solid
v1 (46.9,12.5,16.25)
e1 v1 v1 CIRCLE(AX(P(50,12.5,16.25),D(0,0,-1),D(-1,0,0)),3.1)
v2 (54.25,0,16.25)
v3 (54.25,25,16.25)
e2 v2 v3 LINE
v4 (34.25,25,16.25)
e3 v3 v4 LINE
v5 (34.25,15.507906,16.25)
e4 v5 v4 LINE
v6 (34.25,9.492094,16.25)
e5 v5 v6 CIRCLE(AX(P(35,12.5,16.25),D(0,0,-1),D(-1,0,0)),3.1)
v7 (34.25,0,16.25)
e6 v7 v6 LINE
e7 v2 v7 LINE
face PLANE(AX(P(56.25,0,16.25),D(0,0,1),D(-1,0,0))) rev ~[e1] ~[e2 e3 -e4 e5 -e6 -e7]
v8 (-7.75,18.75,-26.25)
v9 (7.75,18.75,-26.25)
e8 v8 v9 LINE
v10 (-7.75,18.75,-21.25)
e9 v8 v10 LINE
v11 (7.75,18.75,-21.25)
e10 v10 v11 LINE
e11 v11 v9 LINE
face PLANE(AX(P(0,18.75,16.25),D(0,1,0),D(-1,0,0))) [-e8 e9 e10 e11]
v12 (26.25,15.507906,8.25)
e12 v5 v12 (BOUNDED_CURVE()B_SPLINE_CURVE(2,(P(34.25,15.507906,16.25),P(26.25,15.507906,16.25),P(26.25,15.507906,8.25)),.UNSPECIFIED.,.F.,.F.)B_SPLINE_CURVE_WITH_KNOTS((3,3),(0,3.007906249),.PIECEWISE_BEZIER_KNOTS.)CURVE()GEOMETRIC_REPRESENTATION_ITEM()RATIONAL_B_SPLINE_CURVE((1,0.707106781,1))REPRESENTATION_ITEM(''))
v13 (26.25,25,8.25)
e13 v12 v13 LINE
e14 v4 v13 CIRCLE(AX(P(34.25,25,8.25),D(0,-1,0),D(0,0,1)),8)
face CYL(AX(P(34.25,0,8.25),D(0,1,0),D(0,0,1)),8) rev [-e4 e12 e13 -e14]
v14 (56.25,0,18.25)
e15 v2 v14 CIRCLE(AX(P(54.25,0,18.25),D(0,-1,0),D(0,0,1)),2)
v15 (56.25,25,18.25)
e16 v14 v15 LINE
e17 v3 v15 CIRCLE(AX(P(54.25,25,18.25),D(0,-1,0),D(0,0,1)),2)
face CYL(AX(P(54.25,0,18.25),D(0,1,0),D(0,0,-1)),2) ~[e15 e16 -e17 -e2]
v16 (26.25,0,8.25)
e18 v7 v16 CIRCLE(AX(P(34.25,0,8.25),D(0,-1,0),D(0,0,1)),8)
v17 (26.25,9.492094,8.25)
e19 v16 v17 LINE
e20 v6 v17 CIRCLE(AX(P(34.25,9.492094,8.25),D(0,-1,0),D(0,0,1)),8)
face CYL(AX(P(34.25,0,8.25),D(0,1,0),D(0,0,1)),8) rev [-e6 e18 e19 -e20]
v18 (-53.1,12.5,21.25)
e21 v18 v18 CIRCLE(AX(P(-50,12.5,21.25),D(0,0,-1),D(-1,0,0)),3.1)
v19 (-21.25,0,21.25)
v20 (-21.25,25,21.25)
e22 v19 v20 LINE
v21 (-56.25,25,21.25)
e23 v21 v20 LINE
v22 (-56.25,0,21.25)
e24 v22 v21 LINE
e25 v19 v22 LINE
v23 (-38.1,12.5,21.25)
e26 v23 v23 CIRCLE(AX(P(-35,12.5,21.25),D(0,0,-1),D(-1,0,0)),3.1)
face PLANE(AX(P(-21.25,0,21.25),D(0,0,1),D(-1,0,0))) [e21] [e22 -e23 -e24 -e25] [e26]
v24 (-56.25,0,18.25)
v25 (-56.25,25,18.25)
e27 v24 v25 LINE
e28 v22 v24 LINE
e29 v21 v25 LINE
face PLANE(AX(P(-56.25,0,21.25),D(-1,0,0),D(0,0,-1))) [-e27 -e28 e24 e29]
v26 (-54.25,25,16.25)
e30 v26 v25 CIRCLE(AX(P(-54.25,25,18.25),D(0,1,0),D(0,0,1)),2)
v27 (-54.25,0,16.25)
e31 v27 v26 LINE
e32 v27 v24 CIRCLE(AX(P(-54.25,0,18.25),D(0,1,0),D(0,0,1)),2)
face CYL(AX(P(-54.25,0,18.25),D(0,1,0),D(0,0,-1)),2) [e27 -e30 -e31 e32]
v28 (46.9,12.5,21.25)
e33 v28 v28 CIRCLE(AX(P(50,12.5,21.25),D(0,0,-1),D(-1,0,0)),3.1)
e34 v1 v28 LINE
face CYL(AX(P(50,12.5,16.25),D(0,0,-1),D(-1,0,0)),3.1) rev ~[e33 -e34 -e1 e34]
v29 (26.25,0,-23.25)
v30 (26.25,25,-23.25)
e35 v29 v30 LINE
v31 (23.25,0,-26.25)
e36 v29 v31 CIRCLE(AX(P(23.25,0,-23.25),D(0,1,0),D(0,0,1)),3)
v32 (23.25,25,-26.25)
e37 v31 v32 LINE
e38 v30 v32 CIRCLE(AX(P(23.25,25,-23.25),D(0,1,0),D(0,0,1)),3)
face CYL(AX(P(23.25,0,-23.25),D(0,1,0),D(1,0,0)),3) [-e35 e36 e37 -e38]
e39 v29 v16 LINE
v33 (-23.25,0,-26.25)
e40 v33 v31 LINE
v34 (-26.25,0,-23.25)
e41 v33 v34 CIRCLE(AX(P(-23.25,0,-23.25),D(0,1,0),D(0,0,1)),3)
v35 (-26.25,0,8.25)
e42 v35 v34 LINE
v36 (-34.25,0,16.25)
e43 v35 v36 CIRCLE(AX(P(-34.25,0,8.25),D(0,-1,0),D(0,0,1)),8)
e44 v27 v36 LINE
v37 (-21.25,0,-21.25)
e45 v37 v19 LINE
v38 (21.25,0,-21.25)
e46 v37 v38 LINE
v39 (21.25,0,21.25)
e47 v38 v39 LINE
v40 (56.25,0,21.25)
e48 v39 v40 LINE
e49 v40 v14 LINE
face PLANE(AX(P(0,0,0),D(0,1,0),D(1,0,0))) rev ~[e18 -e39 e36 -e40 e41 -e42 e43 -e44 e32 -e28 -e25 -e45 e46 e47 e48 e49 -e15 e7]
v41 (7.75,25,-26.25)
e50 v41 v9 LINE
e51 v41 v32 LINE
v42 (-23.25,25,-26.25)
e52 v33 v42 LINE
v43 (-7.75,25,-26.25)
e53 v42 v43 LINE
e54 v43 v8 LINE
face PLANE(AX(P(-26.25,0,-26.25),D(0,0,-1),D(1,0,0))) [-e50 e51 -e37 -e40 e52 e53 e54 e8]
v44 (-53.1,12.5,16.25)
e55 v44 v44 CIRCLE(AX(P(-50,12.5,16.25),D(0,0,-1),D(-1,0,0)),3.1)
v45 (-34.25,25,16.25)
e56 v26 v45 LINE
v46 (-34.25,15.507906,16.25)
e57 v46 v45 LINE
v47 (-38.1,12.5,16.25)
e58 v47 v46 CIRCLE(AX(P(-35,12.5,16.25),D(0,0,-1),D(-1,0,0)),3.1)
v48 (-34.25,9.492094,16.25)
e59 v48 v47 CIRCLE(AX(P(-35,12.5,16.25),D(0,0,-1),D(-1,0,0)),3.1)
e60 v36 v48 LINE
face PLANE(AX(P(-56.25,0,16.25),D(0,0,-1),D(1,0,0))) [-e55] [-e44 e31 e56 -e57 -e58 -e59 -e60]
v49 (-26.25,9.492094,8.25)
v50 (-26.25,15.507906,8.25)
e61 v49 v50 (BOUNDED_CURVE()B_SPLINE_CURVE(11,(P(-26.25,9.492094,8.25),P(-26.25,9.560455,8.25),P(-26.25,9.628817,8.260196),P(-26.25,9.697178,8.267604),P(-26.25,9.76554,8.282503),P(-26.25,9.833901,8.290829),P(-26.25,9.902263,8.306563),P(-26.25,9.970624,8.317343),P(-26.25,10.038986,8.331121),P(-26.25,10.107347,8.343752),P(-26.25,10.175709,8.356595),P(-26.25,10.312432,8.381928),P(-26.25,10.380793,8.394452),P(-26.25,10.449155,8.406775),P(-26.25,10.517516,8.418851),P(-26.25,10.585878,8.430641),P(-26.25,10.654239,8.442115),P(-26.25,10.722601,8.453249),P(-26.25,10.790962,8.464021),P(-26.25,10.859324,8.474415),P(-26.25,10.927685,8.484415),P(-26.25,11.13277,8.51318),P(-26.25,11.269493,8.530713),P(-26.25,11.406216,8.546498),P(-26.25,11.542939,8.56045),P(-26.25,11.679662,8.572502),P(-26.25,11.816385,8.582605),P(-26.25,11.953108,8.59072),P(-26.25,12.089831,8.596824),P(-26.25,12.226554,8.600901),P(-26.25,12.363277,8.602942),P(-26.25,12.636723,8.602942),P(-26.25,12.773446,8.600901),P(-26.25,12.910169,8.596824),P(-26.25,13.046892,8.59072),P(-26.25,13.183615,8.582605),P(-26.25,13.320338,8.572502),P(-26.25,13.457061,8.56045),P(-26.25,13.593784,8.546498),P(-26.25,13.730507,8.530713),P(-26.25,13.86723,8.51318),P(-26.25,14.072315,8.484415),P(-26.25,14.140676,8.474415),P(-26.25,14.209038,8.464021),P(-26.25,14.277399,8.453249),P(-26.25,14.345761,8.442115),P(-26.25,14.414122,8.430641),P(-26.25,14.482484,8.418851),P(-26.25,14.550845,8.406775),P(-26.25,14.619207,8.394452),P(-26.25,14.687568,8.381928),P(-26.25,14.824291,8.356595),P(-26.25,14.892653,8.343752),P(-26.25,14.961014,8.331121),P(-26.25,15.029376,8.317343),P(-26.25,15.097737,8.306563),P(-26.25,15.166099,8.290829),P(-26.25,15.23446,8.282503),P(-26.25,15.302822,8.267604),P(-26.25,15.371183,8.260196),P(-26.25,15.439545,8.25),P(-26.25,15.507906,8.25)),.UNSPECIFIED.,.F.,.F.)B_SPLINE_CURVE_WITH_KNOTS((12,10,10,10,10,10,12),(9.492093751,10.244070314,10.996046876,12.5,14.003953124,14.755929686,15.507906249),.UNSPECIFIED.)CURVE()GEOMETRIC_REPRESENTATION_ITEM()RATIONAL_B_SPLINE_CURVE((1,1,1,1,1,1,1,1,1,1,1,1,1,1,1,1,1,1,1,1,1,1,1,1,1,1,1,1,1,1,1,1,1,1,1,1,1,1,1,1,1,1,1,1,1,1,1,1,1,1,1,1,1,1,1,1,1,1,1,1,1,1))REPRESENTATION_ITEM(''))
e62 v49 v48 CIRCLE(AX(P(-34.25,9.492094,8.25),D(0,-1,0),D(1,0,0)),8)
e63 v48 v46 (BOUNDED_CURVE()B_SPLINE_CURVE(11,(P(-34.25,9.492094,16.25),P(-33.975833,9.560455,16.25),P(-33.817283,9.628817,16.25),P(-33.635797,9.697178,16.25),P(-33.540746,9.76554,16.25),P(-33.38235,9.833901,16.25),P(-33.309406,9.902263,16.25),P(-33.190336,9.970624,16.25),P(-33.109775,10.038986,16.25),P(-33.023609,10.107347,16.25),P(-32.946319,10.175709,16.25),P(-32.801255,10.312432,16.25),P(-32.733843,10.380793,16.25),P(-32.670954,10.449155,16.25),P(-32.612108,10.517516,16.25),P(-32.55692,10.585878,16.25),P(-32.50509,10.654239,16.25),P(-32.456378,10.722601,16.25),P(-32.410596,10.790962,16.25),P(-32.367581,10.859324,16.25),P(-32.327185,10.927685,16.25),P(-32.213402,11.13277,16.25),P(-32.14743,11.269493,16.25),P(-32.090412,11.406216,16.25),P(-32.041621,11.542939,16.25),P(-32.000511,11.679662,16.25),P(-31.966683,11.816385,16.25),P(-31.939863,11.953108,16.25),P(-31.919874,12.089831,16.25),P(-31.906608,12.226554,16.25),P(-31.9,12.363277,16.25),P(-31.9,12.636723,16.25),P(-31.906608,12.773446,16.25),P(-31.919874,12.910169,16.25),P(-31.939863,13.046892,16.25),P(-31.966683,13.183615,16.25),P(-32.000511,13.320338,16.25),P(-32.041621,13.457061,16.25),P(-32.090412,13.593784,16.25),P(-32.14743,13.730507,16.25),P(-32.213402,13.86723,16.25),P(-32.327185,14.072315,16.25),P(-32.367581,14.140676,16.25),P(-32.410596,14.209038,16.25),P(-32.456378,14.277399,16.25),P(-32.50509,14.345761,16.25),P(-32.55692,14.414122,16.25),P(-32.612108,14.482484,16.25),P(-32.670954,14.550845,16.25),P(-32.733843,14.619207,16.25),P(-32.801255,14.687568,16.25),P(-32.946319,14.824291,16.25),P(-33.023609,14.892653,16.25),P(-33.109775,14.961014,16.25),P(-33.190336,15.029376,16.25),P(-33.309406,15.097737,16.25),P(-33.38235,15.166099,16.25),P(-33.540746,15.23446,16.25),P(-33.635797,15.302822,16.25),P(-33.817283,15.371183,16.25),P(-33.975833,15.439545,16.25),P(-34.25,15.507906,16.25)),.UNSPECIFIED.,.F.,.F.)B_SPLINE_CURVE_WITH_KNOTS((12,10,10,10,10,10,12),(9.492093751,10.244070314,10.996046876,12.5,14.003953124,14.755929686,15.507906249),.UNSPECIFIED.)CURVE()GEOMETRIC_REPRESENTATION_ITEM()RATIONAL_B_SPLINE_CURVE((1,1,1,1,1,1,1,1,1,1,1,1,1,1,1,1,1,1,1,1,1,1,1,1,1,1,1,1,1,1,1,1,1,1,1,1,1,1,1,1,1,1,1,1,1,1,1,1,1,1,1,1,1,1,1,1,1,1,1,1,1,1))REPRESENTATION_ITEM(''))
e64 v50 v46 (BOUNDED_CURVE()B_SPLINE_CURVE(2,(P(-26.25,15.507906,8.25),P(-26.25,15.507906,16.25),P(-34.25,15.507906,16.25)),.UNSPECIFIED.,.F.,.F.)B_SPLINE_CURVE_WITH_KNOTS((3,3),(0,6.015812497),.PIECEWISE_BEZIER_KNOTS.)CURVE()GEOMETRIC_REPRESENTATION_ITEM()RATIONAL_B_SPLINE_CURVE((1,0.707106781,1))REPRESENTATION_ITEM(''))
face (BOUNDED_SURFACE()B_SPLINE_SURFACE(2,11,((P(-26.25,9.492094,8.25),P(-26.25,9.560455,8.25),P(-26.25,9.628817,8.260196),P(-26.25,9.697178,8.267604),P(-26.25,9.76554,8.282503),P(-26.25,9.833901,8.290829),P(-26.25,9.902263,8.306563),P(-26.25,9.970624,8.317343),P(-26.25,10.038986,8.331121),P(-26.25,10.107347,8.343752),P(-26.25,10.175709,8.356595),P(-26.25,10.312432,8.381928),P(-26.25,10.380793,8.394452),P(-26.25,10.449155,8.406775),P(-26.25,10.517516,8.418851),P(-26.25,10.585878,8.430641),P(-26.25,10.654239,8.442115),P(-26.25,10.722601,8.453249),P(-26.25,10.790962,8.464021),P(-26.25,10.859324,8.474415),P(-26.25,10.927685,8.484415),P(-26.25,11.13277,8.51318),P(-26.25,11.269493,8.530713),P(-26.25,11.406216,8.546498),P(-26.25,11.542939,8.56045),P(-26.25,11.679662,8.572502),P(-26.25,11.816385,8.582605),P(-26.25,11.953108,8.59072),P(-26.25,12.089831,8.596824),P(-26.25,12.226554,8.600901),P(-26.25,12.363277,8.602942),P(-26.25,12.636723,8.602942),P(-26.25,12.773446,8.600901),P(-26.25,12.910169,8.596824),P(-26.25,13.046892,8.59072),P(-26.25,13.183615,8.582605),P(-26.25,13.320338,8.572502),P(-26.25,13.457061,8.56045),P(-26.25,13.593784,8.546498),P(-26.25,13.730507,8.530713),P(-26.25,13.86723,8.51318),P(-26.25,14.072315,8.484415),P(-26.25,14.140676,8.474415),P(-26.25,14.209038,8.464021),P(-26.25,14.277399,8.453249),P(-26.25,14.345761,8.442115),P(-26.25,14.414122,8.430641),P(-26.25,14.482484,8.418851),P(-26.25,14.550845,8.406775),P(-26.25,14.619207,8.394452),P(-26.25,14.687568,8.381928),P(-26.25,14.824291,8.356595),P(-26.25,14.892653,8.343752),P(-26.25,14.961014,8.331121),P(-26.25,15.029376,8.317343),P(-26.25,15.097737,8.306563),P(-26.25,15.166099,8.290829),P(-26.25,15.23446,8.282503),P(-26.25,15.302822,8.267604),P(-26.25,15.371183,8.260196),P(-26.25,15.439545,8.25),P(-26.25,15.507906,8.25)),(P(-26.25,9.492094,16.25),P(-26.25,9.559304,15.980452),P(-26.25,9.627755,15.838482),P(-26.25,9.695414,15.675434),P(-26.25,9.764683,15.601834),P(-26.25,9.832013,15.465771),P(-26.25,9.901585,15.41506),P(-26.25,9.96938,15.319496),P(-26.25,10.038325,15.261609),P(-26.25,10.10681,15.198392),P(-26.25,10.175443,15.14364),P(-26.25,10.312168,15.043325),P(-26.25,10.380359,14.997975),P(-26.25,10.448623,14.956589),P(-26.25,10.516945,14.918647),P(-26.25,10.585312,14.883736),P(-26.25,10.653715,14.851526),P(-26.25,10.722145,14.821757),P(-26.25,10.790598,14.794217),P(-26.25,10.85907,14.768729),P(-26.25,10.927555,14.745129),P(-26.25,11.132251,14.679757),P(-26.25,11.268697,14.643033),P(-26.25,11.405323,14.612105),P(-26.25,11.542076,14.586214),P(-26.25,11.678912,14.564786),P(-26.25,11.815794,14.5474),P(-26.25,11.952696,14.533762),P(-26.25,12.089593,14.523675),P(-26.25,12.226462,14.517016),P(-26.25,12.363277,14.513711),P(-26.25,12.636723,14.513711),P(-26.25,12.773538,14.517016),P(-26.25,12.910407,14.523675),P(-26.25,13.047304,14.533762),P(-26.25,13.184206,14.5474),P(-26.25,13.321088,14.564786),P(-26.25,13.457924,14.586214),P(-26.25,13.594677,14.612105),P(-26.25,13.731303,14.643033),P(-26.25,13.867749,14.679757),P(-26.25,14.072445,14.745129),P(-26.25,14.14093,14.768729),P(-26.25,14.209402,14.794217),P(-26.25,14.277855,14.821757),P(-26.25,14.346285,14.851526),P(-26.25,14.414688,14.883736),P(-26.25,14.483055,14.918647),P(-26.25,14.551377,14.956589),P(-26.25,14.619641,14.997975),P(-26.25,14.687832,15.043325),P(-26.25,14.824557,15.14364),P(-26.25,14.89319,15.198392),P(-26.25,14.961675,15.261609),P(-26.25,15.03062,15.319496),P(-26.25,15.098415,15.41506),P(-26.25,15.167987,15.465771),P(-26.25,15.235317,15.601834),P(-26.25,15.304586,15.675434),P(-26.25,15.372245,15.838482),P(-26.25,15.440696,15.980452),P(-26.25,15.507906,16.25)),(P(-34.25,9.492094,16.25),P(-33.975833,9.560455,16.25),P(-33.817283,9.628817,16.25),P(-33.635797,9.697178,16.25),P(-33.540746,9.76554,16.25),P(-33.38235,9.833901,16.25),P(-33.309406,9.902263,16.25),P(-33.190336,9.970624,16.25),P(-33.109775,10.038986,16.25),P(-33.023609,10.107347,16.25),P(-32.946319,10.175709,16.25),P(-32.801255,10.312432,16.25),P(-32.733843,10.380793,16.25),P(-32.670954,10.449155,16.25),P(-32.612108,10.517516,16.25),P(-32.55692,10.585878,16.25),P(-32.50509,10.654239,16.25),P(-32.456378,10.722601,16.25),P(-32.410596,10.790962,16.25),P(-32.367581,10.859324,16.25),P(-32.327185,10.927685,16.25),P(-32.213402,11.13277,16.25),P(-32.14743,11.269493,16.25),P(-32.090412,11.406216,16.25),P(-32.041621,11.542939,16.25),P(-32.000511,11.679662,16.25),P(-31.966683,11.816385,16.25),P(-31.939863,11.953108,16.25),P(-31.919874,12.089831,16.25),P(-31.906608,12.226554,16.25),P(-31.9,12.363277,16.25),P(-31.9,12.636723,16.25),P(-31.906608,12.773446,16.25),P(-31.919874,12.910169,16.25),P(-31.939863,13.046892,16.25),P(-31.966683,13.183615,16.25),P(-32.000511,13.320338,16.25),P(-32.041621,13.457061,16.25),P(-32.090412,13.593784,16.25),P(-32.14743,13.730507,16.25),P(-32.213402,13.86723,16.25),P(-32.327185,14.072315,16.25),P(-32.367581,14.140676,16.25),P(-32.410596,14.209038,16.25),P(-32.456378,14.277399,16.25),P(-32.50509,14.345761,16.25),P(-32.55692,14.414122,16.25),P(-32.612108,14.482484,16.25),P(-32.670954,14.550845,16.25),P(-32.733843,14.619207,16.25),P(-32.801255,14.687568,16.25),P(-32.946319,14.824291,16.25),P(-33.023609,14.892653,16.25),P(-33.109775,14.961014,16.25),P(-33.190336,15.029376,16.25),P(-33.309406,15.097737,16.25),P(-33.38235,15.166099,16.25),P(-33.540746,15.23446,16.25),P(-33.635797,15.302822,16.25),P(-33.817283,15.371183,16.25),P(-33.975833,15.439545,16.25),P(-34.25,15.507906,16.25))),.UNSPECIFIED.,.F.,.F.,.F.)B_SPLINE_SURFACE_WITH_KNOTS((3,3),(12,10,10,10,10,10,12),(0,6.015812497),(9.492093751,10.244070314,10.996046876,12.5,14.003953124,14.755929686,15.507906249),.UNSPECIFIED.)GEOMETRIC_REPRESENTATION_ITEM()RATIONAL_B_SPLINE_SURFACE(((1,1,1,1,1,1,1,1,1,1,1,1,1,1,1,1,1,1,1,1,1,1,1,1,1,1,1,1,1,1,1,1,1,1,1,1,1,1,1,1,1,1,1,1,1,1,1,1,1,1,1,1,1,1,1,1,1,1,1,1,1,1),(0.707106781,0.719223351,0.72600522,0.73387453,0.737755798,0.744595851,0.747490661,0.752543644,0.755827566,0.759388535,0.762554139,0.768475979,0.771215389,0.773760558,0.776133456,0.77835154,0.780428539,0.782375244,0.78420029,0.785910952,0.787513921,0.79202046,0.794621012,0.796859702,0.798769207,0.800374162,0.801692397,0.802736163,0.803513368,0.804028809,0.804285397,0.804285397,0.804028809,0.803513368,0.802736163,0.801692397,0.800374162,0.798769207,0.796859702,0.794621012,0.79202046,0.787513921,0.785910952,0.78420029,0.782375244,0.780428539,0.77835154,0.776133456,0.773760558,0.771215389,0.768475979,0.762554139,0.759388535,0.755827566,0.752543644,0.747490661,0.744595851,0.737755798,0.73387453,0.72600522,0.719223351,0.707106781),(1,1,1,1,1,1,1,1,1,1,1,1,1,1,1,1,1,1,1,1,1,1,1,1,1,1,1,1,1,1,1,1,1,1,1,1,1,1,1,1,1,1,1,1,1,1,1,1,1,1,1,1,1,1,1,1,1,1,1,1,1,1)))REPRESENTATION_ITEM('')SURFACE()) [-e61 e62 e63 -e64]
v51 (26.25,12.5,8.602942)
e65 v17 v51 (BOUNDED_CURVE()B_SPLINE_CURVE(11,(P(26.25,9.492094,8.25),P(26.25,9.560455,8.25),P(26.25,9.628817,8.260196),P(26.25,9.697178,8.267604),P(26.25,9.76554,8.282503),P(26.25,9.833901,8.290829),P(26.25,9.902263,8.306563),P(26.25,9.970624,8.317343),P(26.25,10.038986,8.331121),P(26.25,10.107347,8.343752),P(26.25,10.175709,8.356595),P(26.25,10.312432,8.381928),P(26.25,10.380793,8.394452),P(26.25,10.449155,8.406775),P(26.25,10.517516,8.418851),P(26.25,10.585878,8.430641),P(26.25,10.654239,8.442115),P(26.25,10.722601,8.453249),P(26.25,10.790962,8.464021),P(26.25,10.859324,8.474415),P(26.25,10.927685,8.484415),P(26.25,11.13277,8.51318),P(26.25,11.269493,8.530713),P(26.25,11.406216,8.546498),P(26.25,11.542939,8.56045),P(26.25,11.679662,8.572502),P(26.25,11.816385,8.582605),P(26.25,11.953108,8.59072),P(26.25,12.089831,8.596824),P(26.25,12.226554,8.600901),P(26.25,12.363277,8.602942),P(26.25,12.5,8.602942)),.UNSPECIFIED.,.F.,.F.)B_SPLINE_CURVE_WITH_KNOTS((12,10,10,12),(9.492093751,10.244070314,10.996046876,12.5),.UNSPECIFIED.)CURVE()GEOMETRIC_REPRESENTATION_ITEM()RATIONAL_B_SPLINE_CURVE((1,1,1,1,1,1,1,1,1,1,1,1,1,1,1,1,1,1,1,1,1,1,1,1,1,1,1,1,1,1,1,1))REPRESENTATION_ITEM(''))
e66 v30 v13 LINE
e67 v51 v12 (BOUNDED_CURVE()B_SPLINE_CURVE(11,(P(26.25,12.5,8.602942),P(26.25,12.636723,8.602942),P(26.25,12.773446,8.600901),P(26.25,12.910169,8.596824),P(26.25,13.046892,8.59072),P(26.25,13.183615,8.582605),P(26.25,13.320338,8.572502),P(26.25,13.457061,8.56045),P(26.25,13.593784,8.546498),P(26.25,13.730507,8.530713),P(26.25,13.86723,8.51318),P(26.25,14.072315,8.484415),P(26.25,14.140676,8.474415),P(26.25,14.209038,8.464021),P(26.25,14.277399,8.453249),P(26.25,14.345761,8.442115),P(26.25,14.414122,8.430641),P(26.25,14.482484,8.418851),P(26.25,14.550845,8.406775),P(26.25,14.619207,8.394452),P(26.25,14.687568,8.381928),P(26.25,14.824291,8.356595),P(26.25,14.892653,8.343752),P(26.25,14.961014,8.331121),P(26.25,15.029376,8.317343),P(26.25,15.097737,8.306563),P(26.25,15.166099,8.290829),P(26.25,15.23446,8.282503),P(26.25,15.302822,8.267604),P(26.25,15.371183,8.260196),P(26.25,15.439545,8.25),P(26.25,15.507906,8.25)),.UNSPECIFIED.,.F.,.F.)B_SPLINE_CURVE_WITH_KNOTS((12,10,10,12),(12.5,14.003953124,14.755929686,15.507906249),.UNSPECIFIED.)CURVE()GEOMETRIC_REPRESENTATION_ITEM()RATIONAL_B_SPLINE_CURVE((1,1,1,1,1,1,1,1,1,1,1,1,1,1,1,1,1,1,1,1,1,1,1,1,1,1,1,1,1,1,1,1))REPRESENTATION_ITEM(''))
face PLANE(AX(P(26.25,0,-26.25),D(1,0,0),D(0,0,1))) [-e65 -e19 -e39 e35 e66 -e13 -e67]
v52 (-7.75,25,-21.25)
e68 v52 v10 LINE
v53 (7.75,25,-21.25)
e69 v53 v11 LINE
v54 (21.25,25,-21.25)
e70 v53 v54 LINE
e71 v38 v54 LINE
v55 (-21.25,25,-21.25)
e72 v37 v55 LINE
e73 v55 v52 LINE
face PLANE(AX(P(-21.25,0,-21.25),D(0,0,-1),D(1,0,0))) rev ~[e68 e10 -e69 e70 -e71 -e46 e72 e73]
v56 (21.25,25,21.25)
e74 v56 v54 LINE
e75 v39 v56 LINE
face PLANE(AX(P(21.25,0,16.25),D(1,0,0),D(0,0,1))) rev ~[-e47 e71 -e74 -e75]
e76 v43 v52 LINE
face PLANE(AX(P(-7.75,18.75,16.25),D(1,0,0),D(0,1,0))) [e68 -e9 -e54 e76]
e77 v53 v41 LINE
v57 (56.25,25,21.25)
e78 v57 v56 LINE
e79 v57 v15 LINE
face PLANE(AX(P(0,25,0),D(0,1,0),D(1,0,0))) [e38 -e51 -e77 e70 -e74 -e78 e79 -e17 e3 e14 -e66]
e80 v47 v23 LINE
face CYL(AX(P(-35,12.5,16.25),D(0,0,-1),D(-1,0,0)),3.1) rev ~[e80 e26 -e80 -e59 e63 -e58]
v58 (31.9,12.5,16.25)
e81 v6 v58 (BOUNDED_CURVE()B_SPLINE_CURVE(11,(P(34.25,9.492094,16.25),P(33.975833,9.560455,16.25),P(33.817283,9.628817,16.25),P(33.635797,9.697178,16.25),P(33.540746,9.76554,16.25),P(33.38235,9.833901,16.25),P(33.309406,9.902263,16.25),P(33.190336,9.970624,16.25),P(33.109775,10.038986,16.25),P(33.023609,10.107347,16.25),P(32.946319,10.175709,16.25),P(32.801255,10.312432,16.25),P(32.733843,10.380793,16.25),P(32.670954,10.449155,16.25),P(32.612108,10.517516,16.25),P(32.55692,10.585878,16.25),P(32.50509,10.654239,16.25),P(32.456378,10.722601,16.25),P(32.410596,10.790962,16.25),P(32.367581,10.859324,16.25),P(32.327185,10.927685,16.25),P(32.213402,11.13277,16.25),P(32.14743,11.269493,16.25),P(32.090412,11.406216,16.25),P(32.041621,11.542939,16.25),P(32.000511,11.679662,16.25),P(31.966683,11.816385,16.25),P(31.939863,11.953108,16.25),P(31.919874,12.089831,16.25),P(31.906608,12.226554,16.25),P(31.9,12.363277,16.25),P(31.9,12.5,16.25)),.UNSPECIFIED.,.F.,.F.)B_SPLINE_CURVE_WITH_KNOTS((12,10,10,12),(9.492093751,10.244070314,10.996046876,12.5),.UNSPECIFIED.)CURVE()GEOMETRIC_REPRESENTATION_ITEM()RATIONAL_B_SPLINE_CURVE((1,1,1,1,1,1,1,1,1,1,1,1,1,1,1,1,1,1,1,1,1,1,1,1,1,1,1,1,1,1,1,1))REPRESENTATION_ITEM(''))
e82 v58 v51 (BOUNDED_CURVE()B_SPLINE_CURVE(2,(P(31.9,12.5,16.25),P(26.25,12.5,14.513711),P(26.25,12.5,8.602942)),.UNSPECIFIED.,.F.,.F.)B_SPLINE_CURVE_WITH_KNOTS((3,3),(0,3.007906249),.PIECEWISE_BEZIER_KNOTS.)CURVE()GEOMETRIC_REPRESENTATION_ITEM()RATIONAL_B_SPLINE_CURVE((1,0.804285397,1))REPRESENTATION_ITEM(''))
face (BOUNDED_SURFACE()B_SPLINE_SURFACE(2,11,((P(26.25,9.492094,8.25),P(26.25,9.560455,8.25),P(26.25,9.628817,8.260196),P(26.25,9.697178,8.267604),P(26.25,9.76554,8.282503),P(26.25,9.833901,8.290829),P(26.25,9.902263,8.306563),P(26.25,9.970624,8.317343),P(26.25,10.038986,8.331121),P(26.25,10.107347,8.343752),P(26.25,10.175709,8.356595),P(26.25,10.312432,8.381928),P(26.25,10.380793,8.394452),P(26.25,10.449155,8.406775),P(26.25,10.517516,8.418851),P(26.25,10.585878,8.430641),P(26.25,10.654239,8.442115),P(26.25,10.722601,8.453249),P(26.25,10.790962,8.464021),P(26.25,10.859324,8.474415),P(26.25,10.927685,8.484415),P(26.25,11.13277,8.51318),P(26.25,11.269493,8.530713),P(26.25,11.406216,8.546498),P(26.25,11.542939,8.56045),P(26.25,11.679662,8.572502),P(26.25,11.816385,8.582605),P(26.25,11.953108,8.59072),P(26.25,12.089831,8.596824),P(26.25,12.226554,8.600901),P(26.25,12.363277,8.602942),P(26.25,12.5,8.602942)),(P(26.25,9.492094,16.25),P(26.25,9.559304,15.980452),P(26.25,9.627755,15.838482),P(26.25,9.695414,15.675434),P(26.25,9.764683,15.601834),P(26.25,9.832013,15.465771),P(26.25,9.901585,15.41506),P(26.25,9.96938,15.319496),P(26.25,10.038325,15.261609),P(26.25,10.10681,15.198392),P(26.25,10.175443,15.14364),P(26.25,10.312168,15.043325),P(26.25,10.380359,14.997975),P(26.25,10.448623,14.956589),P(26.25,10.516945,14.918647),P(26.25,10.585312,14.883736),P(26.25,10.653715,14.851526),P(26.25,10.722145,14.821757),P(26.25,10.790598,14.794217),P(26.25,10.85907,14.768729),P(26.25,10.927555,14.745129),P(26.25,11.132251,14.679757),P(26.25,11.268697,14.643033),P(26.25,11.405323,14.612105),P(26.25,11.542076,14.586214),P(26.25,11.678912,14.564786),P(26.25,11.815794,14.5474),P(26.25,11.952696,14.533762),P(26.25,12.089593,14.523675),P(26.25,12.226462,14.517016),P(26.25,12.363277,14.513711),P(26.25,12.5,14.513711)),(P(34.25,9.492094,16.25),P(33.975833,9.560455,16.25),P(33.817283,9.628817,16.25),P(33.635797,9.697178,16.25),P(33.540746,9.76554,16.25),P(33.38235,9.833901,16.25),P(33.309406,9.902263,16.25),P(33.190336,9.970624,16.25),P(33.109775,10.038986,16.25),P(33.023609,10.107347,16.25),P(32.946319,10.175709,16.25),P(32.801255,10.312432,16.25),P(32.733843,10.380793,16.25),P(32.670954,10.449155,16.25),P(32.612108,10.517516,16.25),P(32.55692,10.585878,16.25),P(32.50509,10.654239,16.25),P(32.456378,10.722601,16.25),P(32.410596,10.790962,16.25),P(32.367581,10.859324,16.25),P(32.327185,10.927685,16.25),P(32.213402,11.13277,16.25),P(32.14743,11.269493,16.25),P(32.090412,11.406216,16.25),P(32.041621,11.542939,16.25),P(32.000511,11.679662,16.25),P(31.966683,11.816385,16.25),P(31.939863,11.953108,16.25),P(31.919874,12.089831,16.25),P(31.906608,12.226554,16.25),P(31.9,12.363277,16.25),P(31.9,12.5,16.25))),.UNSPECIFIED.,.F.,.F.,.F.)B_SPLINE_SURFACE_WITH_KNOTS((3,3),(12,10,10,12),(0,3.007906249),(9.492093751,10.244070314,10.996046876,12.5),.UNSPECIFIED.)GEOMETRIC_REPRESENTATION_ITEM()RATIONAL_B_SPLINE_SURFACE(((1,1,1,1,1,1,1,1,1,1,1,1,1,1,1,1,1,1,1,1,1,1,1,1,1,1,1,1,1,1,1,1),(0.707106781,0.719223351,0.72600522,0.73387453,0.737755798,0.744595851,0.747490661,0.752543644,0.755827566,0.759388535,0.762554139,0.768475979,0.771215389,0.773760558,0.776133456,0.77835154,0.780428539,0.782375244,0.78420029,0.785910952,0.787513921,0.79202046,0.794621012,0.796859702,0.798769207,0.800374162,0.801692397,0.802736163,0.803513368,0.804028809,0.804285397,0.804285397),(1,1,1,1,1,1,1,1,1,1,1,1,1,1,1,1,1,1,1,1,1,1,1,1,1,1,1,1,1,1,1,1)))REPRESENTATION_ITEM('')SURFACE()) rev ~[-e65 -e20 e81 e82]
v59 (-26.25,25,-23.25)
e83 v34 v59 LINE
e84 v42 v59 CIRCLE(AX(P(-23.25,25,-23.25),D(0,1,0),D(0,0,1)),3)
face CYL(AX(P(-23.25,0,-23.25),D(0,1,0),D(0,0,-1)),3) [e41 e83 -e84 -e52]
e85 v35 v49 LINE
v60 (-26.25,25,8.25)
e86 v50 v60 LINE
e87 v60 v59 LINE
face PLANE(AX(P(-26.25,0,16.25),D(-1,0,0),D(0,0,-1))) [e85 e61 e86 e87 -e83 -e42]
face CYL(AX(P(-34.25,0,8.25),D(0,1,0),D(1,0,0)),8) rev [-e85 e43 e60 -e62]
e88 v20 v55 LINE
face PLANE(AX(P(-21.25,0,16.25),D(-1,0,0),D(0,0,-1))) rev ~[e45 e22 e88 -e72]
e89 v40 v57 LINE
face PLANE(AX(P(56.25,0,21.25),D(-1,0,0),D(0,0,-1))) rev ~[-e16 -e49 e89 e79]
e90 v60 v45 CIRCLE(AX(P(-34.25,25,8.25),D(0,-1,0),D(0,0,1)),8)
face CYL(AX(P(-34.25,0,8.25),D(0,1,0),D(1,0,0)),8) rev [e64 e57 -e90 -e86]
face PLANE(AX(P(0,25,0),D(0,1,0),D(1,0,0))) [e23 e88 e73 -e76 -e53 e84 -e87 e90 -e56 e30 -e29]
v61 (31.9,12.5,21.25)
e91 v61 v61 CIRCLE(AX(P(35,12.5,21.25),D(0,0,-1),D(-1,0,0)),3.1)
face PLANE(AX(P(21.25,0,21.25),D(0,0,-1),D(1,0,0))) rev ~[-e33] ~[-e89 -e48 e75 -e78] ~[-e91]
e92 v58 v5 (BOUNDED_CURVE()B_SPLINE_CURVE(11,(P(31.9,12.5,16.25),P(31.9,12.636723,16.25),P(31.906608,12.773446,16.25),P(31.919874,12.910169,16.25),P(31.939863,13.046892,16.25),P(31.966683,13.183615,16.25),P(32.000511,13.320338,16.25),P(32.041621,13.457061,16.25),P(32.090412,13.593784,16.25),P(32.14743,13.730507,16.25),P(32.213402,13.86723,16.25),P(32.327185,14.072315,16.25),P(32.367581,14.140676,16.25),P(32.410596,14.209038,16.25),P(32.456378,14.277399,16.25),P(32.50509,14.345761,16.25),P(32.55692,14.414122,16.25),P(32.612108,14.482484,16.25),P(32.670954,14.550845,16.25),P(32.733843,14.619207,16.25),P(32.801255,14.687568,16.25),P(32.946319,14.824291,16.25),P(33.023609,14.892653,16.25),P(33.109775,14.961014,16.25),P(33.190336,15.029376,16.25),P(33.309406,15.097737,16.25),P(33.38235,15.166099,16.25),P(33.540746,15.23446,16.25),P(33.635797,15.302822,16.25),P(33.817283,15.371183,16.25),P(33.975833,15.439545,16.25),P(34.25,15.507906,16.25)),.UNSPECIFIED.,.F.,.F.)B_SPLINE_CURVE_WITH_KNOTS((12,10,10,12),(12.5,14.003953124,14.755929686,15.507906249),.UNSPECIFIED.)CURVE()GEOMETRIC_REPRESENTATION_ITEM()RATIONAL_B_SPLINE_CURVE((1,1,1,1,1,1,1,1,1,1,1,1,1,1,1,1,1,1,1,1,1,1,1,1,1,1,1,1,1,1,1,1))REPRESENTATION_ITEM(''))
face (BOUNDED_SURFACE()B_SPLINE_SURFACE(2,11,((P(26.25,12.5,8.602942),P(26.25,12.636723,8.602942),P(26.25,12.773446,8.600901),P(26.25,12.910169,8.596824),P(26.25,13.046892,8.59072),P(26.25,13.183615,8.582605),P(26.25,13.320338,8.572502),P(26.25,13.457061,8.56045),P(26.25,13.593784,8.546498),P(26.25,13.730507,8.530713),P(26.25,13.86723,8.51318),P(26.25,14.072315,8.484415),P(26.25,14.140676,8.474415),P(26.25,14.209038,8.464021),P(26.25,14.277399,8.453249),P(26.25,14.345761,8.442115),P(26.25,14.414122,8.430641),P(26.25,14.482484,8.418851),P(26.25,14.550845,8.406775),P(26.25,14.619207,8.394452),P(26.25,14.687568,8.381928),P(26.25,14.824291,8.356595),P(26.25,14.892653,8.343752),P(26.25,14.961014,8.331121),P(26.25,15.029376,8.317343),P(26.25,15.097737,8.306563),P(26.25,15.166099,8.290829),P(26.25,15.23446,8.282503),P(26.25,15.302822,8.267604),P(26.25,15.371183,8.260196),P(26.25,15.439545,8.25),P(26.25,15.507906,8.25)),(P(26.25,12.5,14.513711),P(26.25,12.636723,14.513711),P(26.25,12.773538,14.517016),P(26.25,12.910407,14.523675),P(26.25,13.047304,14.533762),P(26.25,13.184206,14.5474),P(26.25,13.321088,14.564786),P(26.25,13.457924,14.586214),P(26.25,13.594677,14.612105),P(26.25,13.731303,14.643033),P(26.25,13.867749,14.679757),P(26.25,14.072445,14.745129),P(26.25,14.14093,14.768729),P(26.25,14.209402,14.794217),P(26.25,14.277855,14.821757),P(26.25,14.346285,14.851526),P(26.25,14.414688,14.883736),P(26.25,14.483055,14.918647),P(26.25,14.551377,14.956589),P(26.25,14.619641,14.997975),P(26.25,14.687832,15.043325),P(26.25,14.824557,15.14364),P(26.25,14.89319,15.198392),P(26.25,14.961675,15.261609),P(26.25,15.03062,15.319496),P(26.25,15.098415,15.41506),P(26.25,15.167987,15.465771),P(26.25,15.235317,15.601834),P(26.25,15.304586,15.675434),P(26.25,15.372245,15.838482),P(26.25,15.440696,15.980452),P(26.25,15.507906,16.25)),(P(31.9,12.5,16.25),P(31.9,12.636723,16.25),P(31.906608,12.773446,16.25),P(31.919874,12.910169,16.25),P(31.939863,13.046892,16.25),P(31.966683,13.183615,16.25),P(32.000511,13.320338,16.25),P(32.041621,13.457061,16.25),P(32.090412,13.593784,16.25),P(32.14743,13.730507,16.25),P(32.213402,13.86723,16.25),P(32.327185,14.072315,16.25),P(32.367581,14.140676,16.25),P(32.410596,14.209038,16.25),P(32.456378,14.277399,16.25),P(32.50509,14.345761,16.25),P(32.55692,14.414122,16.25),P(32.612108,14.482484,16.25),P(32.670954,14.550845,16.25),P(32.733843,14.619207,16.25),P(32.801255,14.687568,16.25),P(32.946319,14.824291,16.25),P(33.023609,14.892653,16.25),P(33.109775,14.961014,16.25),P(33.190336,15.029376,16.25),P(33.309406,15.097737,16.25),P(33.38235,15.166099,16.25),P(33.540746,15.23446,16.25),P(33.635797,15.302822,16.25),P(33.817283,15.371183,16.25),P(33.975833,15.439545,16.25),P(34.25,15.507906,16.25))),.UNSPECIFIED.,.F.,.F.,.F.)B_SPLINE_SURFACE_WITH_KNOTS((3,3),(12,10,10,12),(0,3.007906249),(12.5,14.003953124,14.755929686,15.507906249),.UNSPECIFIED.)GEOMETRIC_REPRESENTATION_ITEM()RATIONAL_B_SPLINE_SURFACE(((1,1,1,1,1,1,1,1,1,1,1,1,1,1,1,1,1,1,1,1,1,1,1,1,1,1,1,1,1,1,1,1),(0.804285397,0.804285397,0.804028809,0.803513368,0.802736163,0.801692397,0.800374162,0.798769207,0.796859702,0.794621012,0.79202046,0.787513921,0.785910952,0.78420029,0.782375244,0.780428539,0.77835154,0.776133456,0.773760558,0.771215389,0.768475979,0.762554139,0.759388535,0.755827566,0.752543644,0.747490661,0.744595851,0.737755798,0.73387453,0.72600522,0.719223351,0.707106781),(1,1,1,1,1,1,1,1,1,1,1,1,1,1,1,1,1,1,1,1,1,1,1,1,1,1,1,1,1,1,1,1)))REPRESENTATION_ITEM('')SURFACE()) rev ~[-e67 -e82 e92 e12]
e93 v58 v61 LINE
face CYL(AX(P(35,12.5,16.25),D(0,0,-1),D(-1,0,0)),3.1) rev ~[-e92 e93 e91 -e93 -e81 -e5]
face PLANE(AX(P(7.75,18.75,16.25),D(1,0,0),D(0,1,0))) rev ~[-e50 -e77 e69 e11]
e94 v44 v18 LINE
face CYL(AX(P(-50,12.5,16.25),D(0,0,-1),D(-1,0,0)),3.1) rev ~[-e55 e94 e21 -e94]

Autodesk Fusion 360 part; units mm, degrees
sketch "Sketch1" plane through (0, 0, 0) normal (0, 1, 0) x (1, 0, 0)
  line L0 (21.25, -21.25) -> (-21.25, -21.25)
  line L1 (-21.25, -21.25) -> (-21.25, 21.25)
  line L2 (-21.25, 21.25) -> (21.25, 21.25)
  line L3 (21.25, 21.25) -> (21.25, -21.25)
  line L4 (21.25, -21.25) -> (-21.25, 21.25) construction
  line L5 (-21.25, -21.25) -> (21.25, 21.25) construction
  line L6 (-21.25, -21.25) -> (-56.25, -21.25)
  line L7 (-56.25, -21.25) -> (-56.25, -16.25)
  line L8 (-56.25, -16.25) -> (-21.25, -16.25)
  line L9 (0, -21.25) -> (0, -35)
  line L10 (-26.25, -21.25) -> (-26.25, 26.25)
  line L11 (-26.25, 26.25) -> (26.25, 26.25)
  line L12 (26.25, 26.25) -> (26.25, -21.25)
  line L13 (56.25, -16.25) -> (21.25, -16.25)
  line L14 (21.25, -21.25) -> (56.25, -21.25)
  line L15 (56.25, -21.25) -> (56.25, -16.25)
  dimension "d1" = 42.5
  dimension "d2" = 42.5
  dimension "d3" = 35
  dimension "d4" = 5
extrude "Extrude1" add sketch "Sketch1" along normal blind 25 contours L3 L12 L13 L14 | L1 L2 L3 L8 L10 L11 L12 L13 | L12 L13 L14 L15 | L1 L6 L8 L10 | L6 L7 L8 L10
sketch "Sketch2" plane through (0, 0, 16.25) normal (0, 0, -1) x (-1, 0, 0)
  line L0 (26.25, 0) -> (56.25, 0)
  line L1 (56.25, 0) -> (56.25, 25)
  line L2 (56.25, 25) -> (26.25, 25)
  line L3 (26.25, 25) -> (26.25, 0)
  line L4 (0, 12.5) -> (0, 7)
  circle A0 centre (50, 12.5) radius 3.1
  circle A1 centre (35, 12.5) radius 3.1
  circle A2 centre (-35, 12.5) radius 3.1
  circle A3 centre (-50, 12.5) radius 3.1
  line L5 (0, 25) -> (7.75, 25)
  line L6 (0, 18.75) -> (7.75, 18.75)
  line L7 (7.75, 18.75) -> (7.75, 25)
  line L8 (0, 18.75) -> (-7.75, 18.75)
  line L9 (-7.75, 18.75) -> (-7.75, 25)
  line L10 (0, 25) -> (-7.75, 25)
  point P0 (0, 12.5)
  dimension "d8" = 6.2
  dimension "d9" = 6.2
  dimension "d10" = 7.75
extrude "Extrude2" cut sketch "Sketch2" along normal mid plane 144 contours A0 | A1 | A2 | A3 | L5 L6 L7 L8 L9 L10
fillet "Fillet1" radius 8 2 edges at (-26.25, 12.5, 16.25) (26.25, 12.5, 16.25)
fillet "Fillet2" radius 3 2 edges at (-26.25, 12.5, -26.25) (26.25, 12.5, -26.25)
fillet "Fillet3" radius 2 2 edges at (-56.25, 12.5, 16.25) (56.25, 12.5, 16.25)
